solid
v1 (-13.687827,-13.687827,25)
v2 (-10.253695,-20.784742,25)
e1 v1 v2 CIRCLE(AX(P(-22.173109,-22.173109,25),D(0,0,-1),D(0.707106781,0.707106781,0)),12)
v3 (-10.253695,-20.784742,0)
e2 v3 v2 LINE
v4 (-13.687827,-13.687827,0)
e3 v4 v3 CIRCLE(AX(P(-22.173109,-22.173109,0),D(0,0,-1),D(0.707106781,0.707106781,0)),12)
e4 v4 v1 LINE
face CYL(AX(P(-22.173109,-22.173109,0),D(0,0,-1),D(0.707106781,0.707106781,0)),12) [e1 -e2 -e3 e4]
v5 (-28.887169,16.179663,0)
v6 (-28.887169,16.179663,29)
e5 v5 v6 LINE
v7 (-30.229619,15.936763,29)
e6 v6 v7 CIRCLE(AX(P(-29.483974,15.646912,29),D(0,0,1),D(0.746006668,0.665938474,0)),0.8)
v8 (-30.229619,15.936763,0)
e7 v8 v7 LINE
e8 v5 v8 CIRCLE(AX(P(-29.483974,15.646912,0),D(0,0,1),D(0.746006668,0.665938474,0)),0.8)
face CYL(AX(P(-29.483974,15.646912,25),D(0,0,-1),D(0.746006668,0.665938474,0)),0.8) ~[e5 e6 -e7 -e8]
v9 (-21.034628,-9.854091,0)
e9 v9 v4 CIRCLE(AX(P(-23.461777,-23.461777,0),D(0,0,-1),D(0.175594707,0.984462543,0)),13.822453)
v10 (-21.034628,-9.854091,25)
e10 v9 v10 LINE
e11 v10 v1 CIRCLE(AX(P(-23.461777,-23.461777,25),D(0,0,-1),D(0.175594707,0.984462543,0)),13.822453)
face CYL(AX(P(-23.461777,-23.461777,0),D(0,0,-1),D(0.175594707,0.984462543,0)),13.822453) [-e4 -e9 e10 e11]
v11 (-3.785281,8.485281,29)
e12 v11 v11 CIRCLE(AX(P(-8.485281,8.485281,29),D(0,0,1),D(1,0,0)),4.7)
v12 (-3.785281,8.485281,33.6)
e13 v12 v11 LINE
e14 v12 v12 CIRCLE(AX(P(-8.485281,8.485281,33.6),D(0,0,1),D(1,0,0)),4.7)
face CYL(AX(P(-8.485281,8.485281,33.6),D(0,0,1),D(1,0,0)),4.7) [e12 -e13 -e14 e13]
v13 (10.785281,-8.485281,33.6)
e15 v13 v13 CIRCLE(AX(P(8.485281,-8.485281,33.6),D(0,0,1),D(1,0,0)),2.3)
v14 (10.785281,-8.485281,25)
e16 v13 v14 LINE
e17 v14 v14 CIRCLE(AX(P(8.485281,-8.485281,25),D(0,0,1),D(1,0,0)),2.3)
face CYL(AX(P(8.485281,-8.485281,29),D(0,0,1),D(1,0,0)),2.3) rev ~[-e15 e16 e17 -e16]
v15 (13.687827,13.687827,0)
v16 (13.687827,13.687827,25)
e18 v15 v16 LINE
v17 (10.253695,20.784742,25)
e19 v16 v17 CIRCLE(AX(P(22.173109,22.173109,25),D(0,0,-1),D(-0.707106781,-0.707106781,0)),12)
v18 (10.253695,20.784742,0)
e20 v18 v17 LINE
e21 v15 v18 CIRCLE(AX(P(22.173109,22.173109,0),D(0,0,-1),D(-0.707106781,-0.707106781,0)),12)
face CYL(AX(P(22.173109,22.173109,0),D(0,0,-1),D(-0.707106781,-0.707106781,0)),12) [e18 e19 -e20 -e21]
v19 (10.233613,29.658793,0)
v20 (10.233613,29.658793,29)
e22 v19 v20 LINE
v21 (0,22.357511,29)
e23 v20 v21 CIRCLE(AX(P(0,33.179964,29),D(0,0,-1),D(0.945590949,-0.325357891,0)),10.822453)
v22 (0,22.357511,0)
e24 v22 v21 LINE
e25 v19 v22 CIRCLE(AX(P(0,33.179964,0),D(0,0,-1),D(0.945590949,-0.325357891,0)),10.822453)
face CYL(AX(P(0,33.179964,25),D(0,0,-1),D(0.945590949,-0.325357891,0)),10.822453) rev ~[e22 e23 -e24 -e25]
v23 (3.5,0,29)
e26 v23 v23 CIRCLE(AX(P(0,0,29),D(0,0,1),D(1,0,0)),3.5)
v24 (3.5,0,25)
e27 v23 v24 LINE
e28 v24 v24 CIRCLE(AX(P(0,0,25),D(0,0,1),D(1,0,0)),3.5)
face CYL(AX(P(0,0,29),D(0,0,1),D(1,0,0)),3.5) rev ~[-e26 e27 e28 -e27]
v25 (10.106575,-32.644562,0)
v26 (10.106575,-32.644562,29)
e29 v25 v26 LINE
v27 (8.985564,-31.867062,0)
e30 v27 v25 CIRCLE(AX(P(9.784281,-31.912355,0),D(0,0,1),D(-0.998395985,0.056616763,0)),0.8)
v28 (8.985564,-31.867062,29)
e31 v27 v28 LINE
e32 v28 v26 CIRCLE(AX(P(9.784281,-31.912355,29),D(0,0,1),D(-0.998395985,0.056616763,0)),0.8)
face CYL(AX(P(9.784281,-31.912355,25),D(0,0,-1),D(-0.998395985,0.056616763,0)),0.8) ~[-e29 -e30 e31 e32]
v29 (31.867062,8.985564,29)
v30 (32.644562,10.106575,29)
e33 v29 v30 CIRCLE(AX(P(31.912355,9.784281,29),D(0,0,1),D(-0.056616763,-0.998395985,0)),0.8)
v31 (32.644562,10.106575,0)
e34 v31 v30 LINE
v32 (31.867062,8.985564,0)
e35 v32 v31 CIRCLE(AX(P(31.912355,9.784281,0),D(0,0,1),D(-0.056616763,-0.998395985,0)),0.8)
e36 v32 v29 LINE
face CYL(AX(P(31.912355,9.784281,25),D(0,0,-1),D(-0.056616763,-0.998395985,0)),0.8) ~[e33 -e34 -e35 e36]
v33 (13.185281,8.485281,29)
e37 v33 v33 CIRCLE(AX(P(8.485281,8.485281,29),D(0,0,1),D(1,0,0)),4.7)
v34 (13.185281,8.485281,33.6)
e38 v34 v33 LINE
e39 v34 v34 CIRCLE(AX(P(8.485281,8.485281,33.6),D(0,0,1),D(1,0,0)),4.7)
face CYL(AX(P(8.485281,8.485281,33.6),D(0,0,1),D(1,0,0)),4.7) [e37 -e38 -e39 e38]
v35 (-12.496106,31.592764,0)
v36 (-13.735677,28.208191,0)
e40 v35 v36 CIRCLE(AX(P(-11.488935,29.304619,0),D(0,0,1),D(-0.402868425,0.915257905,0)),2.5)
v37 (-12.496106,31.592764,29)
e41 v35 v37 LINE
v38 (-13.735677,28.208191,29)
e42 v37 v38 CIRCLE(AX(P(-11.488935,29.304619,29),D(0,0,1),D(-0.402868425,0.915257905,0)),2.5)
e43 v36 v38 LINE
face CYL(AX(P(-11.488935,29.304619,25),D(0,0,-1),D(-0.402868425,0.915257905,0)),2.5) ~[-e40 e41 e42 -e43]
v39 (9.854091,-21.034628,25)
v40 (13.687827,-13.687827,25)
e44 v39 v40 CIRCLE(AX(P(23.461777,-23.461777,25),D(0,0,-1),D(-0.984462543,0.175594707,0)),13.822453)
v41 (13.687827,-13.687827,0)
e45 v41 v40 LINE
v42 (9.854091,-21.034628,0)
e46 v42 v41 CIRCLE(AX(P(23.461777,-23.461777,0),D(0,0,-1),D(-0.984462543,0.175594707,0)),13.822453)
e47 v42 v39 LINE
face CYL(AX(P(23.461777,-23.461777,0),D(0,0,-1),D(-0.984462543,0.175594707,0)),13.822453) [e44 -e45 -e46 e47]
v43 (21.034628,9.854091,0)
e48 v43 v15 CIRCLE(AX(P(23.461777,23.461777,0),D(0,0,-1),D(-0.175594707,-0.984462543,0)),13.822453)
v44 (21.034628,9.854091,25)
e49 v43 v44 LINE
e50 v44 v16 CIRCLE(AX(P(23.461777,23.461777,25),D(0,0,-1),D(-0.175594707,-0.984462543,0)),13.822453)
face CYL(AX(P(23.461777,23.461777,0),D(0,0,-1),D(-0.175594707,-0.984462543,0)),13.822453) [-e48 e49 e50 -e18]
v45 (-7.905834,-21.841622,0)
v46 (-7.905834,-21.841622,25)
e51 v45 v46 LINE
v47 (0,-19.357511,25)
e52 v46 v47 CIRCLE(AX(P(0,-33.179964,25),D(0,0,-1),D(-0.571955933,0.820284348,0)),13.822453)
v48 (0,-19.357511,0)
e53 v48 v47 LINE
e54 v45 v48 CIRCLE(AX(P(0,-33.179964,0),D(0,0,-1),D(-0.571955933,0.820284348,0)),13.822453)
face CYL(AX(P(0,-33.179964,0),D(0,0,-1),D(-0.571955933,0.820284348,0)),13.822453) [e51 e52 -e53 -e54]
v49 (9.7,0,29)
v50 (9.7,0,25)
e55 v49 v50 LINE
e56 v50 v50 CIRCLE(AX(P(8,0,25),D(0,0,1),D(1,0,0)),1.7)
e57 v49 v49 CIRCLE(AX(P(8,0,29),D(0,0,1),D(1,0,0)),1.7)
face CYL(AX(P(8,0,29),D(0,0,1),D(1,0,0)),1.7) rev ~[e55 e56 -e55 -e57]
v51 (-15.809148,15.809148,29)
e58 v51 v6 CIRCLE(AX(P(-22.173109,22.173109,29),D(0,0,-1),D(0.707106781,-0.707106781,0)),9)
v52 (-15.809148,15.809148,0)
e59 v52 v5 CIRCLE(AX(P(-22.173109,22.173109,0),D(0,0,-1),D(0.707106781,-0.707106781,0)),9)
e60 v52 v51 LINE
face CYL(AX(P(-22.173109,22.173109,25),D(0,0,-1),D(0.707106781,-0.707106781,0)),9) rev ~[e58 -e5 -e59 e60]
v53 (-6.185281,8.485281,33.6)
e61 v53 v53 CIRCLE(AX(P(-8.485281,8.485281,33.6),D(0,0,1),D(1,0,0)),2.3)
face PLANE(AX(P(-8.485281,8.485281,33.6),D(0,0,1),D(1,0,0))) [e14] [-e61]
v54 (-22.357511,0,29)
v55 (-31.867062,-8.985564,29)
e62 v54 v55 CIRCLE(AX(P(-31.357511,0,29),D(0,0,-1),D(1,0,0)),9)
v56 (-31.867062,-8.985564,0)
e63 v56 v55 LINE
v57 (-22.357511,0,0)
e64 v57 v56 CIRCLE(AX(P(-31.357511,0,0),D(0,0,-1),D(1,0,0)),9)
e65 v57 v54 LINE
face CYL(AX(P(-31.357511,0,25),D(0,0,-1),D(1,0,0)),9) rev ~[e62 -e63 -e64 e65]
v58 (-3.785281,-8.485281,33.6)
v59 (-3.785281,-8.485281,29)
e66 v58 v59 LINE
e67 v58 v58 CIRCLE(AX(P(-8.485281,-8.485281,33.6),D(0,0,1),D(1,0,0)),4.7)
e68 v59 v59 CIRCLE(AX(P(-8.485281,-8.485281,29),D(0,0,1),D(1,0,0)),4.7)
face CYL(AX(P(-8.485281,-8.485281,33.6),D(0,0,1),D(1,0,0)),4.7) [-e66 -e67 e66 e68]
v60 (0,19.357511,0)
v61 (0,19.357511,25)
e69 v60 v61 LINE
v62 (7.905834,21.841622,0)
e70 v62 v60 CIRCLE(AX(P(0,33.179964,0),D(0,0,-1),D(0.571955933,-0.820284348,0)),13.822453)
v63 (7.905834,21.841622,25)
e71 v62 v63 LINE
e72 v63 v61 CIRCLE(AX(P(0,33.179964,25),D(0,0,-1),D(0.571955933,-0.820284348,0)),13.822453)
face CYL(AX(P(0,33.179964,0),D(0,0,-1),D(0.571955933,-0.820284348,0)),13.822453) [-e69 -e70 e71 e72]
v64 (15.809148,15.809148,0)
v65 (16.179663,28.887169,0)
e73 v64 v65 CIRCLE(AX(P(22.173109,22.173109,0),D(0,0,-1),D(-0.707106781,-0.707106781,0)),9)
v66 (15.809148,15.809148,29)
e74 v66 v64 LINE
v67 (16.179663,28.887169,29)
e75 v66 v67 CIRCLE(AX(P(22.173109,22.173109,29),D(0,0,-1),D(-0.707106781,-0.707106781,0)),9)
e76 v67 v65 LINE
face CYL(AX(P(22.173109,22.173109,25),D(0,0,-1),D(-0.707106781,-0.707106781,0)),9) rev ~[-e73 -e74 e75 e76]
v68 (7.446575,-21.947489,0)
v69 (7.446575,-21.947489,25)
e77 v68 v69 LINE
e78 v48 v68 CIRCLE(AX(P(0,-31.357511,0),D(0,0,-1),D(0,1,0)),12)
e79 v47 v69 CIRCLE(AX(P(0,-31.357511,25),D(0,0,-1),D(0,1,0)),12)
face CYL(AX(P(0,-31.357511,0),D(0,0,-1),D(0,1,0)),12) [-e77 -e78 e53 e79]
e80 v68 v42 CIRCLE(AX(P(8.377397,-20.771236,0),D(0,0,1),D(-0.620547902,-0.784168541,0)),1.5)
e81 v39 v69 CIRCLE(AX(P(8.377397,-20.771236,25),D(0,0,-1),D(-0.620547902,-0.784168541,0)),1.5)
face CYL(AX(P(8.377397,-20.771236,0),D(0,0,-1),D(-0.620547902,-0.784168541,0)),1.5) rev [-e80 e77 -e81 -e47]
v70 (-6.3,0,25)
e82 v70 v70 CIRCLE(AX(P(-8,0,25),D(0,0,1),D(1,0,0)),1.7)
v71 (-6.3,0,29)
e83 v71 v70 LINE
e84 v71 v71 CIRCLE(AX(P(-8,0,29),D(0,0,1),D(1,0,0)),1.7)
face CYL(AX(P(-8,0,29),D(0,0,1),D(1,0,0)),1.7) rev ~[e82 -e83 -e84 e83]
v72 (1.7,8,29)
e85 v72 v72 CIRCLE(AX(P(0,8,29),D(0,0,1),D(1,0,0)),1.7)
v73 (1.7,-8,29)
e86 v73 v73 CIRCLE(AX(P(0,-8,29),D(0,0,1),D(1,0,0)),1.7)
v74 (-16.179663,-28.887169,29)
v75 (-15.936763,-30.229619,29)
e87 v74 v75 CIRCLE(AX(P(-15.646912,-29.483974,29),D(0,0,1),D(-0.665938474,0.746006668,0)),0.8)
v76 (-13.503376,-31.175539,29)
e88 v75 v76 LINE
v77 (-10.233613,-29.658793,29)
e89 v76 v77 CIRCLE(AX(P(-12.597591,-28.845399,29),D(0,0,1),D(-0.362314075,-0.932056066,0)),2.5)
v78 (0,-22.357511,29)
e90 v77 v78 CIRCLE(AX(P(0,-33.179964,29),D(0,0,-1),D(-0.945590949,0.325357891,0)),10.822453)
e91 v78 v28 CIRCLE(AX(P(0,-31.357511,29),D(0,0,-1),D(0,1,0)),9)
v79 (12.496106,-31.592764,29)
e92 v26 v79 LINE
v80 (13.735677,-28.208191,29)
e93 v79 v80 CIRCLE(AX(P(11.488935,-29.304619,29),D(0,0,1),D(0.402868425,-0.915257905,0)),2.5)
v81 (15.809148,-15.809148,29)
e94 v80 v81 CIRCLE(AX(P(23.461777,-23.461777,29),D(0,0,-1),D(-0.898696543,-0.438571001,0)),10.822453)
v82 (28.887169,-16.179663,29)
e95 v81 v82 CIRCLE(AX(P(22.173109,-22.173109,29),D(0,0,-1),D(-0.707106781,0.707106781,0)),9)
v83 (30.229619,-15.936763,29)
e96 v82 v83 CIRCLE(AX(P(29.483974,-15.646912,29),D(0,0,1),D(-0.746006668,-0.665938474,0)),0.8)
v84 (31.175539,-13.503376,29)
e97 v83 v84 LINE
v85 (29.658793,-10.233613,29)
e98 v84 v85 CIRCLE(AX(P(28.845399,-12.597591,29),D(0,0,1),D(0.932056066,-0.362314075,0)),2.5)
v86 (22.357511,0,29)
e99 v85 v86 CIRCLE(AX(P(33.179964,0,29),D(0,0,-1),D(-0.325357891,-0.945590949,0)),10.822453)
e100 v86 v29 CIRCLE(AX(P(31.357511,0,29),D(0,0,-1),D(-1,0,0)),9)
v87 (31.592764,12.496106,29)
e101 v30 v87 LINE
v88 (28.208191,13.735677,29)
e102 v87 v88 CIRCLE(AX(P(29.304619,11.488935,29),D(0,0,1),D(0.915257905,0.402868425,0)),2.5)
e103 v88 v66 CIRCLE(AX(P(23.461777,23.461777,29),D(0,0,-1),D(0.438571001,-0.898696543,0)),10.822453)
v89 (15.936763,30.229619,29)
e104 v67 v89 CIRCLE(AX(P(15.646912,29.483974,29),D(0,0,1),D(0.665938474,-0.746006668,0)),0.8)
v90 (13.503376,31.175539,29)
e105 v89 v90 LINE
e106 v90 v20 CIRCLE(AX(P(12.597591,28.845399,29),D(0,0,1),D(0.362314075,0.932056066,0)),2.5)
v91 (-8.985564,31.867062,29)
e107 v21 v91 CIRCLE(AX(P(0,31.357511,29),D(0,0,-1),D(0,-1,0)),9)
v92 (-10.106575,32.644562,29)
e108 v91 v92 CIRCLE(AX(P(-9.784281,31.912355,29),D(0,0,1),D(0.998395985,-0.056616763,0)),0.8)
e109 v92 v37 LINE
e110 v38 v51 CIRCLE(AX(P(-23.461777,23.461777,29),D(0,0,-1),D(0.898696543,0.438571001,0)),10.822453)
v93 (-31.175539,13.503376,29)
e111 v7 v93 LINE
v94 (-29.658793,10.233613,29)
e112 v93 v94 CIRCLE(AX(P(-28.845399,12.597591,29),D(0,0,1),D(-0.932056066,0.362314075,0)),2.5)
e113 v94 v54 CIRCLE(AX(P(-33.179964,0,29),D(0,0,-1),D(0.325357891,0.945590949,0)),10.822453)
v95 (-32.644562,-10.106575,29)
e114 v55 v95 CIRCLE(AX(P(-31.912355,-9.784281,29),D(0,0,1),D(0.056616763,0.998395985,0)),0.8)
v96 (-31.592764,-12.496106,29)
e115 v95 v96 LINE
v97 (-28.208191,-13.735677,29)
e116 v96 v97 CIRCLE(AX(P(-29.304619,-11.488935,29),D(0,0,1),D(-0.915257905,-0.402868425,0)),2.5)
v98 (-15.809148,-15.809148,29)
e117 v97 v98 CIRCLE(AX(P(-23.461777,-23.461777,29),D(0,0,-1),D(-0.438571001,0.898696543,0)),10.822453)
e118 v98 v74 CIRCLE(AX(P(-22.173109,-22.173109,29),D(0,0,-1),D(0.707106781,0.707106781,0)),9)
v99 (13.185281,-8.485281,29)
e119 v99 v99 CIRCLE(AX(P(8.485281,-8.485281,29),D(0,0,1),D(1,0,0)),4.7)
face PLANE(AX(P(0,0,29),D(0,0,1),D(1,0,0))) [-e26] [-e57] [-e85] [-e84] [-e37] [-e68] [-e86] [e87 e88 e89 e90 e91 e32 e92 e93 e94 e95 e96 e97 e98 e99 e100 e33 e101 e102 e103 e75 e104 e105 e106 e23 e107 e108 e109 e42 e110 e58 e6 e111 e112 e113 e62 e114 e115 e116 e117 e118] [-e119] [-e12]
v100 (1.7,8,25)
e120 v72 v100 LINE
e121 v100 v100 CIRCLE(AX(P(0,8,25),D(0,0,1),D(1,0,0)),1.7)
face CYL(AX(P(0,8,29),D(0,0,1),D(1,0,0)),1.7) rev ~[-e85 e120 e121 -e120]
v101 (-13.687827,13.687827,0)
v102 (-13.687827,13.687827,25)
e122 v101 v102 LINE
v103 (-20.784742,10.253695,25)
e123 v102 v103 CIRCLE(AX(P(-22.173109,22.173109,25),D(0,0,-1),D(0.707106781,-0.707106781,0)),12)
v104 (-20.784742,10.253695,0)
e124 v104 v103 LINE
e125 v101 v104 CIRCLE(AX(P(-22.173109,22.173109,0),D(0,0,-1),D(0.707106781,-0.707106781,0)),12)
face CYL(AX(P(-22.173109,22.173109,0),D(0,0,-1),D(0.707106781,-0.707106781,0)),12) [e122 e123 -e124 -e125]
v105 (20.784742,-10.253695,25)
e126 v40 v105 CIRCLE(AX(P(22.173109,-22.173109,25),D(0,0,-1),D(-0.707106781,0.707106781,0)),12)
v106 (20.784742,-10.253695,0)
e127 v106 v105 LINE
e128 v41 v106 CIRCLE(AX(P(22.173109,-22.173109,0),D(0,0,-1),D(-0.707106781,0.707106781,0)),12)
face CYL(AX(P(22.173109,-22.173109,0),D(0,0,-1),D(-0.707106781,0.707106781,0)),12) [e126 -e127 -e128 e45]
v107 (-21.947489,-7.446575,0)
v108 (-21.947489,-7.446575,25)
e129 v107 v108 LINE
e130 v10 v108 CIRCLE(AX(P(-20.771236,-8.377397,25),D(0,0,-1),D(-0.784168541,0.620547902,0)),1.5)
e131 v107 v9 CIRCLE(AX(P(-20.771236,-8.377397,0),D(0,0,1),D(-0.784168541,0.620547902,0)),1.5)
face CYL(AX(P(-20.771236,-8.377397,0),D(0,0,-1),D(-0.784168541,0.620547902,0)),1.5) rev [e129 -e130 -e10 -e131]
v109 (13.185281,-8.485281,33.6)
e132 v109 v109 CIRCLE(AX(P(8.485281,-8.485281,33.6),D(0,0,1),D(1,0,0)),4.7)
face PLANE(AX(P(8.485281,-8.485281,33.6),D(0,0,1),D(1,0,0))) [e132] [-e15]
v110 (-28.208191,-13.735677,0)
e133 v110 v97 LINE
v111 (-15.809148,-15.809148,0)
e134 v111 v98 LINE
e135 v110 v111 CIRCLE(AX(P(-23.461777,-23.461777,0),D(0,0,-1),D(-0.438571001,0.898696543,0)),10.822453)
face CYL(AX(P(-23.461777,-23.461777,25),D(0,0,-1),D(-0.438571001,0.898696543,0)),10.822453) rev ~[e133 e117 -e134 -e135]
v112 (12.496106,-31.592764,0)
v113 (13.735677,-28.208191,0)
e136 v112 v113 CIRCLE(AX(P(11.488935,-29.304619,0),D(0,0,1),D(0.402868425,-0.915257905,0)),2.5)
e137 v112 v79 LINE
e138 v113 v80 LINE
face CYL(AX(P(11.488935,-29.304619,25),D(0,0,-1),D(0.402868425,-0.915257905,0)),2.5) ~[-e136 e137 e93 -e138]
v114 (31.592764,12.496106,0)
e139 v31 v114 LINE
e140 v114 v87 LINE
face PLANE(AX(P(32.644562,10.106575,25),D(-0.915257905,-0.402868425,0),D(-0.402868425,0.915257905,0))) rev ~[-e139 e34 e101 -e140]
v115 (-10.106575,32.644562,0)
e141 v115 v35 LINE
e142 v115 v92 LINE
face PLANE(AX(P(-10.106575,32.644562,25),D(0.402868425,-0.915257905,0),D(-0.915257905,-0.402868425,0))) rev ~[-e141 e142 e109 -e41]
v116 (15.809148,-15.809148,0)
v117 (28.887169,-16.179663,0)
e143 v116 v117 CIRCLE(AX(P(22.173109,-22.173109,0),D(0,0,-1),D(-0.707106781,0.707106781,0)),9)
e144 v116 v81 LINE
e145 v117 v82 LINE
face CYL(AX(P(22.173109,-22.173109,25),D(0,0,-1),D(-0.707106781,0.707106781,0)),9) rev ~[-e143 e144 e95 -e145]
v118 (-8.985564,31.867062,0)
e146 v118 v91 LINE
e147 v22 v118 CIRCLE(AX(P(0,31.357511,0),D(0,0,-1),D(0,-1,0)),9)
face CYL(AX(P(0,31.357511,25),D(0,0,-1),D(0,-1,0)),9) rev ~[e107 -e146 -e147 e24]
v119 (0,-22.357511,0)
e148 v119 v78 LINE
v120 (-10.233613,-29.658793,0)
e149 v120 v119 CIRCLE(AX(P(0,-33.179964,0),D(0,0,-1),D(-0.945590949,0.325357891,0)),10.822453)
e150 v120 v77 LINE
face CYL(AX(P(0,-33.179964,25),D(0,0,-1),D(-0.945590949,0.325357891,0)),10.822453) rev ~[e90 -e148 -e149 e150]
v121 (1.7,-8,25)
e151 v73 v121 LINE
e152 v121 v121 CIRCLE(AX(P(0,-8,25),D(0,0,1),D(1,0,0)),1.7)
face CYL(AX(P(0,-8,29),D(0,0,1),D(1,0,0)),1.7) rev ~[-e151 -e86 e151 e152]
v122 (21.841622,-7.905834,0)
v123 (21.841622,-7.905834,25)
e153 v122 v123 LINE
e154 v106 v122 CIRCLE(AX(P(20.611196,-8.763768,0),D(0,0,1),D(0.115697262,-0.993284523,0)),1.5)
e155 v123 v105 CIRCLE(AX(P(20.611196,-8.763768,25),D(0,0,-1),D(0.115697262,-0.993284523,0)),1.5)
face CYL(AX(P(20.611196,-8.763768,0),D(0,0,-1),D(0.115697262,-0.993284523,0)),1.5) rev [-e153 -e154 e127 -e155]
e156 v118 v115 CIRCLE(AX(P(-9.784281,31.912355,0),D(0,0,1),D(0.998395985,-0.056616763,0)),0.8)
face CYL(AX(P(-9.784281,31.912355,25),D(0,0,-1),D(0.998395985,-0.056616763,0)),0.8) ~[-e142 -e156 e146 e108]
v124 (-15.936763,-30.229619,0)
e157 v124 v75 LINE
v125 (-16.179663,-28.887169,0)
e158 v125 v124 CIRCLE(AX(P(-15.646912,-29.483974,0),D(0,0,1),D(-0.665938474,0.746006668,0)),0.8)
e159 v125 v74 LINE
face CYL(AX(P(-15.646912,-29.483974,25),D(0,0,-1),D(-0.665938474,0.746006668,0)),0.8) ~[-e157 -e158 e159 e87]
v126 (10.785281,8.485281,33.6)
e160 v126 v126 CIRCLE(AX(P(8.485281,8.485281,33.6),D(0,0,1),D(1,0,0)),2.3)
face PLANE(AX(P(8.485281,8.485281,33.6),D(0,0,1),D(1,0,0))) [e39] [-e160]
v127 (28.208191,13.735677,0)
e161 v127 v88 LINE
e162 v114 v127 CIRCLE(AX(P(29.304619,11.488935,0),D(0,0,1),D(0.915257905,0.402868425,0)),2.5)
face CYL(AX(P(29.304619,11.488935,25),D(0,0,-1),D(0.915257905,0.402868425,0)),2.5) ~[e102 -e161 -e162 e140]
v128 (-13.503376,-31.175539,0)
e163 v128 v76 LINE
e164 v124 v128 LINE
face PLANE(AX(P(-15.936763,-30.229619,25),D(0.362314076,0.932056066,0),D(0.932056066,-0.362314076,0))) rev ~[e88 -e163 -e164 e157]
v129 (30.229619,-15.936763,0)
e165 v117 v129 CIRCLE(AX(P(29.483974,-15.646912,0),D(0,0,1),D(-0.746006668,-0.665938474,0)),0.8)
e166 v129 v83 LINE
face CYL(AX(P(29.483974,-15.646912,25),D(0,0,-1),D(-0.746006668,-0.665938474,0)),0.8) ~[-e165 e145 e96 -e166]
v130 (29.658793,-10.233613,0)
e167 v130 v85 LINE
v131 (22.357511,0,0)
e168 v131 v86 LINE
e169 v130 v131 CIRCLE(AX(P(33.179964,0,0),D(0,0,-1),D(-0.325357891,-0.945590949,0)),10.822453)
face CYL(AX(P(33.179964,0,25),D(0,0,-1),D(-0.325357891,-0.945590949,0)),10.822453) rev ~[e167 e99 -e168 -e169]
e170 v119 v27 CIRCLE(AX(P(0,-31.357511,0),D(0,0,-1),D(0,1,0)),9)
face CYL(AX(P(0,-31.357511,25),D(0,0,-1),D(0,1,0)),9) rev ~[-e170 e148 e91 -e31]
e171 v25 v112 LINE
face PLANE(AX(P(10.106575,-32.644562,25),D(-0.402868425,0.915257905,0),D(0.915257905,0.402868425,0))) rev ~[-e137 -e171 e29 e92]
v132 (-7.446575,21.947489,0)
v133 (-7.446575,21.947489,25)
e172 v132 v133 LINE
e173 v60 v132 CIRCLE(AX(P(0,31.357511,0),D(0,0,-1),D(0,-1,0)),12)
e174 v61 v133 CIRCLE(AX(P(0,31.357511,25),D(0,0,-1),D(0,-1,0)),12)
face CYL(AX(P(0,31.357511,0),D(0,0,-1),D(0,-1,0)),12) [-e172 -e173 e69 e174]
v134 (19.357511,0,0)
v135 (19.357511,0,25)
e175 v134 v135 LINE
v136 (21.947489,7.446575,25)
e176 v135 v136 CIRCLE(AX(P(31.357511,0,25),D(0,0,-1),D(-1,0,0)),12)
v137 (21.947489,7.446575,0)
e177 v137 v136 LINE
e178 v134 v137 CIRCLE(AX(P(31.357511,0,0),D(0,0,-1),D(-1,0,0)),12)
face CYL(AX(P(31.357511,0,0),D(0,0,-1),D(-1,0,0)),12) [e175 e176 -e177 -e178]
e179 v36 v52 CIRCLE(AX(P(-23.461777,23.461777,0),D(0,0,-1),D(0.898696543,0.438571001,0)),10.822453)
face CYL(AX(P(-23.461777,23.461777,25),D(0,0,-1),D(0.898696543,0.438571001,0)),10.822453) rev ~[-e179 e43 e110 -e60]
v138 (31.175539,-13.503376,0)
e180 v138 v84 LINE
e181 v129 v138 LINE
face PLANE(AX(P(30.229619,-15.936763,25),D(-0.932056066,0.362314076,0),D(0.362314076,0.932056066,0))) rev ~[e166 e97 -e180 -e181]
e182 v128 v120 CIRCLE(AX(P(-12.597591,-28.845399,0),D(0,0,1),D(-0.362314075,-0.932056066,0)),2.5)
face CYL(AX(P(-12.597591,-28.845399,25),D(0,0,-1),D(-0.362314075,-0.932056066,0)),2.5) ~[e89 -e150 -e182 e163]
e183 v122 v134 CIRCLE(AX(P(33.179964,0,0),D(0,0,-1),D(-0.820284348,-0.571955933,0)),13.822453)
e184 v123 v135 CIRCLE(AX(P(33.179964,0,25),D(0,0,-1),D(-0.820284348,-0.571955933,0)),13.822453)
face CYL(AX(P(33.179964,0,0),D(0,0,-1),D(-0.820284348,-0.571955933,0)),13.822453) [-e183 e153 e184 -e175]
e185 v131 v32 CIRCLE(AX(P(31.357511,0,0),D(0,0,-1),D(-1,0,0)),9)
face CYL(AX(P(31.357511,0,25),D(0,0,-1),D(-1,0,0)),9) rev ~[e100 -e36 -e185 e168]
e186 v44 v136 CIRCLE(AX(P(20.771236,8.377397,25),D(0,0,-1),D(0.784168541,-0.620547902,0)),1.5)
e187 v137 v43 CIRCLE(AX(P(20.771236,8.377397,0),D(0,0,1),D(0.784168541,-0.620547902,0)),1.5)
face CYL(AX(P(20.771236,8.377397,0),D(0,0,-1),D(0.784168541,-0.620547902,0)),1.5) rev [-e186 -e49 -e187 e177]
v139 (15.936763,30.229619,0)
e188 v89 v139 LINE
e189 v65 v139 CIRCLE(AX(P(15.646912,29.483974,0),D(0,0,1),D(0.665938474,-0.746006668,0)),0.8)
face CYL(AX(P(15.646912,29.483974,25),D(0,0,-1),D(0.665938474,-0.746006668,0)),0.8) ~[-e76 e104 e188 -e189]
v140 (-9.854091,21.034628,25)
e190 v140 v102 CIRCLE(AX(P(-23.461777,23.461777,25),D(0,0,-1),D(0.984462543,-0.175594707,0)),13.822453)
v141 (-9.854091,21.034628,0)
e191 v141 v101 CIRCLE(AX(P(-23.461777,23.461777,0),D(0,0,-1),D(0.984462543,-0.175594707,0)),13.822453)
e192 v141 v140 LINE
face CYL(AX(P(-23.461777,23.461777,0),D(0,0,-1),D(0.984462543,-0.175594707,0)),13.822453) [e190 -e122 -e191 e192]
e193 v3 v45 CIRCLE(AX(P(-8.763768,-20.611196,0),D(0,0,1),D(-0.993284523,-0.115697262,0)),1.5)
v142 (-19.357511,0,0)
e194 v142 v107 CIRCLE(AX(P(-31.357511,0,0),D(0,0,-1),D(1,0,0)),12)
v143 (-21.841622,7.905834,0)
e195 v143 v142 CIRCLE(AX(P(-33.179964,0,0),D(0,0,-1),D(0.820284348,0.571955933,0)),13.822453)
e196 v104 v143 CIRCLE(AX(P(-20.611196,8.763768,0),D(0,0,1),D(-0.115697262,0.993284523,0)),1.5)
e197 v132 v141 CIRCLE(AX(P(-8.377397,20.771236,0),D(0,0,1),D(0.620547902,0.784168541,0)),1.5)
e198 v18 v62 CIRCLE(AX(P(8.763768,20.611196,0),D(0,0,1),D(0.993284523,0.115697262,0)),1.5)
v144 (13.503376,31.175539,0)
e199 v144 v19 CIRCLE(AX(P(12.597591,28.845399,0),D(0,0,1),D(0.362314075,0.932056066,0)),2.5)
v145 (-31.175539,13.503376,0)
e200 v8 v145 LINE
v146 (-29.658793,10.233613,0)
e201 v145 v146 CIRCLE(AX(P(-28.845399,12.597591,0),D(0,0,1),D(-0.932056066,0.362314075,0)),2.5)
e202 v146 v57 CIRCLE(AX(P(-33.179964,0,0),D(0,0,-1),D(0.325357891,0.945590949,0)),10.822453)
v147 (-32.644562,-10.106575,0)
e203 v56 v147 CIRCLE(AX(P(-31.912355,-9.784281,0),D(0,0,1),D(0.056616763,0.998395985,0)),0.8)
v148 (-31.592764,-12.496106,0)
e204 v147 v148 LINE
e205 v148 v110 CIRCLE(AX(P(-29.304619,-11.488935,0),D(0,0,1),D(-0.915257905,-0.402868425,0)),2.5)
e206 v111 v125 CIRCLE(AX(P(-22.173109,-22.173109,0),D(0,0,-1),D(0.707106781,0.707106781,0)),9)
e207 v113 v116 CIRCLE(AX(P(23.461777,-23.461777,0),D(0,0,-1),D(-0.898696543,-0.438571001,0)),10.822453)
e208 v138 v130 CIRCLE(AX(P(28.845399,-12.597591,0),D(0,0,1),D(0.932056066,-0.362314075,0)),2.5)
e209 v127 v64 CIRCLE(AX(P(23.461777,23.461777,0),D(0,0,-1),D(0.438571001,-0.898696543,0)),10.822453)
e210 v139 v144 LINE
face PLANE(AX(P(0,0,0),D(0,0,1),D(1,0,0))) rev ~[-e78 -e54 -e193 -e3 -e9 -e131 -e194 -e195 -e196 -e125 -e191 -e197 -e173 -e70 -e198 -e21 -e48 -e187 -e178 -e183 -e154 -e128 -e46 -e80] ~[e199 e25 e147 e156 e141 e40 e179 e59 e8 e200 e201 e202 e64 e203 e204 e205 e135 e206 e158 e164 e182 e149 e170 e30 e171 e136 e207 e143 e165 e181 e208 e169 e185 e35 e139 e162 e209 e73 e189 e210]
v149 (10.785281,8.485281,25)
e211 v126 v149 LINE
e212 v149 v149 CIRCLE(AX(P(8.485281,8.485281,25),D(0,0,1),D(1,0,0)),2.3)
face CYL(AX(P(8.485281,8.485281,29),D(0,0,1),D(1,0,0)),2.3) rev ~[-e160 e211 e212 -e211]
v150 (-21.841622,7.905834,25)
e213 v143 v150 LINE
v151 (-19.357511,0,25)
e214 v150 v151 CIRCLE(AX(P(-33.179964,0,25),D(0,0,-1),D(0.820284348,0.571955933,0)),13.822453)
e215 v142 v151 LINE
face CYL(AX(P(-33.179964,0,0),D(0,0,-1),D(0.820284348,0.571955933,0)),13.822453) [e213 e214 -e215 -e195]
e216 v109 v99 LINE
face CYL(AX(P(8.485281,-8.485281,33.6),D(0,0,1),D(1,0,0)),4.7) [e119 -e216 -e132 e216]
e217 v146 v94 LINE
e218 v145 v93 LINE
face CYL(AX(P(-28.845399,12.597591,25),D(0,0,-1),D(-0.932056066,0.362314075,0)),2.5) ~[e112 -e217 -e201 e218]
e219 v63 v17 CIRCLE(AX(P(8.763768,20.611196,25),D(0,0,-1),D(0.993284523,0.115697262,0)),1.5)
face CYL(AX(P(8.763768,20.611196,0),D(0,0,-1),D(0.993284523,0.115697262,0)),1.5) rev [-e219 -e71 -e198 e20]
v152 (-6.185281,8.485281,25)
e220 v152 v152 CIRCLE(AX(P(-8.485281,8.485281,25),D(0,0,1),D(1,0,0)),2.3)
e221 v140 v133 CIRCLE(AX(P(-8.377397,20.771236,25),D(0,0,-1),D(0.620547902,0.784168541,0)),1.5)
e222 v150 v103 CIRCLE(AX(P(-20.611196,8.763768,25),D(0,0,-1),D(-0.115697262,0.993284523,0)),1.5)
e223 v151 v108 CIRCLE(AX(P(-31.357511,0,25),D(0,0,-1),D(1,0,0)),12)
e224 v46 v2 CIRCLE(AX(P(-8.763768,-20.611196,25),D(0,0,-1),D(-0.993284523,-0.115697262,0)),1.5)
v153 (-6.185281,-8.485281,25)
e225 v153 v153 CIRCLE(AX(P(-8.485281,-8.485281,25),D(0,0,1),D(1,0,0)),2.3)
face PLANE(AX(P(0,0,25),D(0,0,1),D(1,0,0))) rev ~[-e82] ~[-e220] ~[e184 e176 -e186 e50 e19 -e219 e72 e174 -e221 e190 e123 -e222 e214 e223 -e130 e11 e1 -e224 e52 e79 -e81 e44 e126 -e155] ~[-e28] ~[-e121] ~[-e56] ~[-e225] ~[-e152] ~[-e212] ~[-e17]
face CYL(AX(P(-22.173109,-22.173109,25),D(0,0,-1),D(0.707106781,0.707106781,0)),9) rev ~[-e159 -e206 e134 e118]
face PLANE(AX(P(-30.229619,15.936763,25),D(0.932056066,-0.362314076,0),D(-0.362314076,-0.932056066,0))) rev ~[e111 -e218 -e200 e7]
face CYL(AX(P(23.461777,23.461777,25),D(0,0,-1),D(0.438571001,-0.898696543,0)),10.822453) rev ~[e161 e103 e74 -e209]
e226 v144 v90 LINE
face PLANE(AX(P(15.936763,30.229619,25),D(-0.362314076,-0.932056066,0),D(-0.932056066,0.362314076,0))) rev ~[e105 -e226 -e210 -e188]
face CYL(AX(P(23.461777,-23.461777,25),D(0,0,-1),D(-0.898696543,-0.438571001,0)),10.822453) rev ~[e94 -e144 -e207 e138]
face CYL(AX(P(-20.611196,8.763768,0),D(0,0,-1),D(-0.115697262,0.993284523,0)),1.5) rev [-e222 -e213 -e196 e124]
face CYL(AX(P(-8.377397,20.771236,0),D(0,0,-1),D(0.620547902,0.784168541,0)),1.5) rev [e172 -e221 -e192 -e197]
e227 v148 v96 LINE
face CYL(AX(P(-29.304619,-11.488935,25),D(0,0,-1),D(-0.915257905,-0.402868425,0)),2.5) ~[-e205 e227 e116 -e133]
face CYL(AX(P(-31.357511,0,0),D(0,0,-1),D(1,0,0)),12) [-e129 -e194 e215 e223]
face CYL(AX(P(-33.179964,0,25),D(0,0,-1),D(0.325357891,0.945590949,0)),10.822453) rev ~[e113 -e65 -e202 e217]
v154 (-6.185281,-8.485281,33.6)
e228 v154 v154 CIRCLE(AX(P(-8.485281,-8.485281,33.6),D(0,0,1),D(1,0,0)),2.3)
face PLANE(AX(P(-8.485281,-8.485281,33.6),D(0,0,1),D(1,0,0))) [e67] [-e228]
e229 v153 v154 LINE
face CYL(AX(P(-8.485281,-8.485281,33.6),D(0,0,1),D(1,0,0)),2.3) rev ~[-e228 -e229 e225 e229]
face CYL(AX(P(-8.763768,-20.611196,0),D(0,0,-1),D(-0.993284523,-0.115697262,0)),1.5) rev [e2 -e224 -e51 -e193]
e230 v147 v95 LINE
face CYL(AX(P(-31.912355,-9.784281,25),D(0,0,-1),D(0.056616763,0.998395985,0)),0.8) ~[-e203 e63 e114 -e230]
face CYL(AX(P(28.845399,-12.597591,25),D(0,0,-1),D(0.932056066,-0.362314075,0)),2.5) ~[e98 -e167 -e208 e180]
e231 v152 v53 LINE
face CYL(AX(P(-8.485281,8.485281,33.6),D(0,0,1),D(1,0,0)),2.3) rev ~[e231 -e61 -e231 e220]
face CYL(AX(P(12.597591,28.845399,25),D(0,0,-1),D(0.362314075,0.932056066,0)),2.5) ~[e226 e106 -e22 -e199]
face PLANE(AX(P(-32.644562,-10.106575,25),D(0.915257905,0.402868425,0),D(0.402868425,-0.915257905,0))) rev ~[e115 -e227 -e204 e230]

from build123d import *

# Parameters (mm, degrees)
EXTRUDE_1_DEPTH     = 25
CUT_EXTRUDE_1_DEPTH = 53.585134746
EXTRUDE_2_DEPTH     = 4
SKETCH_4_R          = 3.5
SKETCH_4_R_2        = 1.7
SKETCH_4_R_3        = 2.3
CUT_EXTRUDE_2_DEPTH = 55.600333298
EXTRUDE_START       = 4.6
SKETCH_5_R          = 4.7
SKETCH_5_R_2        = 2.3
EXTRUDE_3_DEPTH     = 4.6


with BuildPart() as part:
    # 草图1 → 凸台-拉伸1 (new body)
    with BuildSketch(Plane.XY):
        with BuildLine():
            Line((15.936762996, 30.229618981), (13.50337588, 31.175538906))
            ThreePointArc((13.50337588, 31.175538906), (11.545587701, 31.113280948), (10.233613318, 29.658793469))
            ThreePointArc((10.233613318, 29.658793469), (6.285609854, 24.369935979), (0, 22.357511157))
            ThreePointArc((0, 22.357511157), (-6.541634269, 25.176328334), (-8.985563862, 31.867062025))
            ThreePointArc((-8.985563862, 31.867062025), (-9.328351981, 32.569720668), (-10.106575389, 32.644561759))
            Line((-10.106575389, 32.644561759), (-12.496106314, 31.592763621))
            ThreePointArc((-12.496106314, 31.592763621), (-13.836448588, 30.1643753), (-13.73567661, 28.208191357))
            ThreePointArc((-13.73567661, 28.208191357), (-12.787549636, 21.67674434), (-15.80914775, 15.80914775))
            ThreePointArc((-15.80914775, 15.80914775), (-22.427986442, 13.176718539), (-28.887168794, 16.179662515))
            ThreePointArc((-28.887168794, 16.179662515), (-29.626411288, 16.434129403), (-30.229618981, 15.936762996))
            Line((-30.229618981, 15.936762996), (-31.175538906, 13.50337588))
            ThreePointArc((-31.175538906, 13.50337588), (-31.113280948, 11.545587701), (-29.658793469, 10.233613318))
            ThreePointArc((-29.658793469, 10.233613318), (-24.369935979, 6.285609854), (-22.357511157, 0))
            ThreePointArc((-22.357511157, 0), (-25.176328334, -6.541634269), (-31.867062025, -8.985563862))
            ThreePointArc((-31.867062025, -8.985563862), (-32.569720668, -9.328351981), (-32.644561759, -10.106575389))
            Line((-32.644561759, -10.106575389), (-31.592763621, -12.496106314))
            ThreePointArc((-31.592763621, -12.496106314), (-30.1643753, -13.836448588), (-28.208191357, -13.73567661))
            ThreePointArc((-28.208191357, -13.73567661), (-21.67674434, -12.787549636), (-15.80914775, -15.80914775))
            ThreePointArc((-15.80914775, -15.80914775), (-13.176718539, -22.427986442), (-16.179662515, -28.887168794))
            ThreePointArc((-16.179662515, -28.887168794), (-16.434129403, -29.626411288), (-15.936762996, -30.229618981))
            Line((-15.936762996, -30.229618981), (-13.50337588, -31.175538906))
            ThreePointArc((-13.50337588, -31.175538906), (-11.545587701, -31.113280948), (-10.233613318, -29.658793469))
            ThreePointArc((-10.233613318, -29.658793469), (-6.285609854, -24.369935979), (0, -22.357511157))
            ThreePointArc((0, -22.357511157), (6.541634269, -25.176328334), (8.985563862, -31.867062025))
            ThreePointArc((8.985563862, -31.867062025), (9.328351981, -32.569720668), (10.106575389, -32.644561759))
            Line((10.106575389, -32.644561759), (12.496106314, -31.592763621))
            ThreePointArc((12.496106314, -31.592763621), (13.836448588, -30.1643753), (13.73567661, -28.208191357))
            ThreePointArc((13.73567661, -28.208191357), (12.787549636, -21.67674434), (15.80914775, -15.80914775))
            ThreePointArc((15.80914775, -15.80914775), (22.427986442, -13.176718539), (28.887168794, -16.179662515))
            ThreePointArc((28.887168794, -16.179662515), (29.626411288, -16.434129403), (30.229618981, -15.936762996))
            Line((30.229618981, -15.936762996), (31.175538906, -13.50337588))
            ThreePointArc((31.175538906, -13.50337588), (31.113280948, -11.545587701), (29.658793469, -10.233613318))
            ThreePointArc((29.658793469, -10.233613318), (24.369935979, -6.285609854), (22.357511157, 0))
            ThreePointArc((22.357511157, 0), (25.176328334, 6.541634269), (31.867062025, 8.985563862))
            ThreePointArc((31.867062025, 8.985563862), (32.569720668, 9.328351981), (32.644561759, 10.106575389))
            Line((32.644561759, 10.106575389), (31.592763621, 12.496106314))
            ThreePointArc((31.592763621, 12.496106314), (30.1643753, 13.836448588), (28.208191357, 13.73567661))
            ThreePointArc((28.208191357, 13.73567661), (21.67674434, 12.787549636), (15.80914775, 15.80914775))
            ThreePointArc((15.80914775, 15.80914775), (13.176718539, 22.427986442), (16.179662515, 28.887168794))
            ThreePointArc((16.179662515, 28.887168794), (16.434129403, 29.626411288), (15.936762996, 30.229618981))
        make_face()
    extrude(amount=EXTRUDE_1_DEPTH)

    # 草图2 → 切除-拉伸1 (cut, through all)
    with BuildSketch(Plane(origin=(0, 0, 0), x_dir=(-1, 0, 0), z_dir=(0, 0, -1))):
        with BuildLine():
            ThreePointArc((19.357511157, 0), (20.023485618, -3.942063555), (21.947488669, -7.446574835))
            ThreePointArc((21.947488669, -7.446574835), (22.173796823, -8.909207499), (21.034627917, -9.854090504))
            ThreePointArc((21.034627917, -9.854090504), (17.067163124, -11.207426936), (13.687827406, -13.687827406))
            ThreePointArc((13.687827406, -13.687827406), (11.371282592, -16.946202335), (10.253694505, -20.78474163))
            ThreePointArc((10.253694505, -20.78474163), (9.379481061, -21.979003136), (7.905833822, -21.841622258))
            ThreePointArc((7.905833822, -21.841622258), (4.143459195, -19.993154366), (0, -19.357511157))
            ThreePointArc((0, -19.357511157), (-3.942063555, -20.023485618), (-7.446574835, -21.947488669))
            ThreePointArc((-7.446574835, -21.947488669), (-8.909207499, -22.173796823), (-9.854090504, -21.034627917))
            ThreePointArc((-9.854090504, -21.034627917), (-11.207426936, -17.067163124), (-13.687827406, -13.687827406))
            ThreePointArc((-13.687827406, -13.687827406), (-16.946202335, -11.371282592), (-20.78474163, -10.253694505))
            ThreePointArc((-20.78474163, -10.253694505), (-21.979003136, -9.379481061), (-21.841622258, -7.905833822))
            ThreePointArc((-21.841622258, -7.905833822), (-19.993154366, -4.143459195), (-19.357511157, 0))
            ThreePointArc((-19.357511157, 0), (-20.023485618, 3.942063555), (-21.947488669, 7.446574835))
            ThreePointArc((-21.947488669, 7.446574835), (-22.173796823, 8.909207499), (-21.034627917, 9.854090504))
            ThreePointArc((-21.034627917, 9.854090504), (-17.067163124, 11.207426936), (-13.687827406, 13.687827406))
            ThreePointArc((-13.687827406, 13.687827406), (-11.371282592, 16.946202335), (-10.253694505, 20.78474163))
            ThreePointArc((-10.253694505, 20.78474163), (-9.379481061, 21.979003136), (-7.905833822, 21.841622258))
            ThreePointArc((-7.905833822, 21.841622258), (-4.143459195, 19.993154366), (0, 19.357511157))
            ThreePointArc((0, 19.357511157), (3.942063555, 20.023485618), (7.446574835, 21.947488669))
            ThreePointArc((7.446574835, 21.947488669), (8.909207499, 22.173796823), (9.854090504, 21.034627917))
            ThreePointArc((9.854090504, 21.034627917), (11.207426936, 17.067163124), (13.687827406, 13.687827406))
            ThreePointArc((13.687827406, 13.687827406), (16.946202335, 11.371282592), (20.78474163, 10.253694505))
            ThreePointArc((20.78474163, 10.253694505), (21.979003136, 9.379481061), (21.841622258, 7.905833822))
            ThreePointArc((21.841622258, 7.905833822), (19.993154366, 4.143459195), (19.357511157, 0))
        make_face()
    extrude(amount=-CUT_EXTRUDE_1_DEPTH, mode=Mode.SUBTRACT)

    # 草图3 → 凸台-拉伸2 (add)
    with BuildSketch(Plane.XY.offset(25)):
        with BuildLine():
            Line((15.936762996, 30.229618981), (13.50337588, 31.175538906))
            ThreePointArc((13.50337588, 31.175538906), (11.545587701, 31.113280948), (10.233613318, 29.658793469))
            ThreePointArc((10.233613318, 29.658793469), (6.285609854, 24.369935979), (0, 22.357511157))
            ThreePointArc((0, 22.357511157), (-6.541634269, 25.176328334), (-8.985563862, 31.867062025))
            ThreePointArc((-8.985563862, 31.867062025), (-9.328351981, 32.569720668), (-10.106575389, 32.644561759))
            Line((-10.106575389, 32.644561759), (-12.496106314, 31.592763621))
            ThreePointArc((-12.496106314, 31.592763621), (-13.836448588, 30.1643753), (-13.73567661, 28.208191357))
            ThreePointArc((-13.73567661, 28.208191357), (-12.787549636, 21.67674434), (-15.80914775, 15.80914775))
            ThreePointArc((-15.80914775, 15.80914775), (-22.427986442, 13.176718539), (-28.887168794, 16.179662515))
            ThreePointArc((-28.887168794, 16.179662515), (-29.626411288, 16.434129403), (-30.229618981, 15.936762996))
            Line((-30.229618981, 15.936762996), (-31.175538906, 13.50337588))
            ThreePointArc((-31.175538906, 13.50337588), (-31.113280948, 11.545587701), (-29.658793469, 10.233613318))
            ThreePointArc((-29.658793469, 10.233613318), (-24.369935979, 6.285609854), (-22.357511157, 0))
            ThreePointArc((-22.357511157, 0), (-25.176328334, -6.541634269), (-31.867062025, -8.985563862))
            ThreePointArc((-31.867062025, -8.985563862), (-32.569720668, -9.328351981), (-32.644561759, -10.106575389))
            Line((-32.644561759, -10.106575389), (-31.592763621, -12.496106314))
            ThreePointArc((-31.592763621, -12.496106314), (-30.1643753, -13.836448588), (-28.208191357, -13.73567661))
            ThreePointArc((-28.208191357, -13.73567661), (-21.67674434, -12.787549636), (-15.80914775, -15.80914775))
            ThreePointArc((-15.80914775, -15.80914775), (-13.176718539, -22.427986442), (-16.179662515, -28.887168794))
            ThreePointArc((-16.179662515, -28.887168794), (-16.434129403, -29.626411288), (-15.936762996, -30.229618981))
            Line((-15.936762996, -30.229618981), (-13.50337588, -31.175538906))
            ThreePointArc((-13.50337588, -31.175538906), (-11.545587701, -31.113280948), (-10.233613318, -29.658793469))
            ThreePointArc((-10.233613318, -29.658793469), (-6.285609854, -24.369935979), (0, -22.357511157))
            ThreePointArc((0, -22.357511157), (6.541634269, -25.176328334), (8.985563862, -31.867062025))
            ThreePointArc((8.985563862, -31.867062025), (9.328351981, -32.569720668), (10.106575389, -32.644561759))
            Line((10.106575389, -32.644561759), (12.496106314, -31.592763621))
            ThreePointArc((12.496106314, -31.592763621), (13.836448588, -30.1643753), (13.73567661, -28.208191357))
            ThreePointArc((13.73567661, -28.208191357), (12.787549636, -21.67674434), (15.80914775, -15.80914775))
            ThreePointArc((15.80914775, -15.80914775), (22.427986442, -13.176718539), (28.887168794, -16.179662515))
            ThreePointArc((28.887168794, -16.179662515), (29.626411288, -16.434129403), (30.229618981, -15.936762996))
            Line((30.229618981, -15.936762996), (31.175538906, -13.50337588))
            ThreePointArc((31.175538906, -13.50337588), (31.113280948, -11.545587701), (29.658793469, -10.233613318))
            ThreePointArc((29.658793469, -10.233613318), (24.369935979, -6.285609854), (22.357511157, 0))
            ThreePointArc((22.357511157, 0), (25.176328334, 6.541634269), (31.867062025, 8.985563862))
            ThreePointArc((31.867062025, 8.985563862), (32.569720668, 9.328351981), (32.644561759, 10.106575389))
            Line((32.644561759, 10.106575389), (31.592763621, 12.496106314))
            ThreePointArc((31.592763621, 12.496106314), (30.1643753, 13.836448588), (28.208191357, 13.73567661))
            ThreePointArc((28.208191357, 13.73567661), (21.67674434, 12.787549636), (15.80914775, 15.80914775))
            ThreePointArc((15.80914775, 15.80914775), (13.176718539, 22.427986442), (16.179662515, 28.887168794))
            ThreePointArc((16.179662515, 28.887168794), (16.434129403, 29.626411288), (15.936762996, 30.229618981))
        make_face()
    extrude(amount=EXTRUDE_2_DEPTH)

    # 草图4 → 切除-拉伸2 (cut, through all)
    with BuildSketch(Plane.XY.offset(29)):
        Circle(SKETCH_4_R)
        with Locations((8, 0)):
            Circle(SKETCH_4_R_2)
        with Locations((0, -8)):
            Circle(SKETCH_4_R_2)
        with Locations((-8, 0)):
            Circle(SKETCH_4_R_2)
        with Locations((0, 8)):
            Circle(SKETCH_4_R_2)
        with Locations((8.485281374, 8.485281374)):
            Circle(SKETCH_4_R_3)
        with Locations((8.485281374, -8.485281374)):
            Circle(SKETCH_4_R_3)
        with Locations((-8.485281374, -8.485281374)):
            Circle(SKETCH_4_R_3)
        with Locations((-8.485281374, 8.485281374)):
            Circle(SKETCH_4_R_3)
    extrude(amount=-CUT_EXTRUDE_2_DEPTH, mode=Mode.SUBTRACT)

    # 草图5 → 凸台-拉伸3 (add)
    # profile 1 of 4: a face of its own
    with BuildSketch(Plane.XY.offset(29).offset(EXTRUDE_START)):
        with Locations((-8.485281374, 8.485281374)):
            Circle(SKETCH_5_R)
        with Locations((-8.485281374, 8.485281374)):
            Circle(SKETCH_5_R_2, mode=Mode.SUBTRACT)
    # profile 2 of 4: a face of its own
    with BuildSketch(Plane.XY.offset(29).offset(EXTRUDE_START)):
        with Locations((8.485281374, 8.485281374)):
            Circle(SKETCH_5_R)
        with Locations((8.485281374, 8.485281374)):
            Circle(SKETCH_5_R_2, mode=Mode.SUBTRACT)
    # profile 3 of 4: a face of its own
    with BuildSketch(Plane.XY.offset(29).offset(EXTRUDE_START)):
        with Locations((8.485281374, -8.485281374)):
            Circle(SKETCH_5_R)
        with Locations((8.485281374, -8.485281374)):
            Circle(SKETCH_5_R_2, mode=Mode.SUBTRACT)
    # profile 4 of 4: a face of its own
    with BuildSketch(Plane.XY.offset(29).offset(EXTRUDE_START)):
        with Locations((-8.485281374, -8.485281374)):
            Circle(SKETCH_5_R)
        with Locations((-8.485281374, -8.485281374)):
            Circle(SKETCH_5_R_2, mode=Mode.SUBTRACT)
    extrude(amount=-EXTRUDE_3_DEPTH)


solid = part.part
